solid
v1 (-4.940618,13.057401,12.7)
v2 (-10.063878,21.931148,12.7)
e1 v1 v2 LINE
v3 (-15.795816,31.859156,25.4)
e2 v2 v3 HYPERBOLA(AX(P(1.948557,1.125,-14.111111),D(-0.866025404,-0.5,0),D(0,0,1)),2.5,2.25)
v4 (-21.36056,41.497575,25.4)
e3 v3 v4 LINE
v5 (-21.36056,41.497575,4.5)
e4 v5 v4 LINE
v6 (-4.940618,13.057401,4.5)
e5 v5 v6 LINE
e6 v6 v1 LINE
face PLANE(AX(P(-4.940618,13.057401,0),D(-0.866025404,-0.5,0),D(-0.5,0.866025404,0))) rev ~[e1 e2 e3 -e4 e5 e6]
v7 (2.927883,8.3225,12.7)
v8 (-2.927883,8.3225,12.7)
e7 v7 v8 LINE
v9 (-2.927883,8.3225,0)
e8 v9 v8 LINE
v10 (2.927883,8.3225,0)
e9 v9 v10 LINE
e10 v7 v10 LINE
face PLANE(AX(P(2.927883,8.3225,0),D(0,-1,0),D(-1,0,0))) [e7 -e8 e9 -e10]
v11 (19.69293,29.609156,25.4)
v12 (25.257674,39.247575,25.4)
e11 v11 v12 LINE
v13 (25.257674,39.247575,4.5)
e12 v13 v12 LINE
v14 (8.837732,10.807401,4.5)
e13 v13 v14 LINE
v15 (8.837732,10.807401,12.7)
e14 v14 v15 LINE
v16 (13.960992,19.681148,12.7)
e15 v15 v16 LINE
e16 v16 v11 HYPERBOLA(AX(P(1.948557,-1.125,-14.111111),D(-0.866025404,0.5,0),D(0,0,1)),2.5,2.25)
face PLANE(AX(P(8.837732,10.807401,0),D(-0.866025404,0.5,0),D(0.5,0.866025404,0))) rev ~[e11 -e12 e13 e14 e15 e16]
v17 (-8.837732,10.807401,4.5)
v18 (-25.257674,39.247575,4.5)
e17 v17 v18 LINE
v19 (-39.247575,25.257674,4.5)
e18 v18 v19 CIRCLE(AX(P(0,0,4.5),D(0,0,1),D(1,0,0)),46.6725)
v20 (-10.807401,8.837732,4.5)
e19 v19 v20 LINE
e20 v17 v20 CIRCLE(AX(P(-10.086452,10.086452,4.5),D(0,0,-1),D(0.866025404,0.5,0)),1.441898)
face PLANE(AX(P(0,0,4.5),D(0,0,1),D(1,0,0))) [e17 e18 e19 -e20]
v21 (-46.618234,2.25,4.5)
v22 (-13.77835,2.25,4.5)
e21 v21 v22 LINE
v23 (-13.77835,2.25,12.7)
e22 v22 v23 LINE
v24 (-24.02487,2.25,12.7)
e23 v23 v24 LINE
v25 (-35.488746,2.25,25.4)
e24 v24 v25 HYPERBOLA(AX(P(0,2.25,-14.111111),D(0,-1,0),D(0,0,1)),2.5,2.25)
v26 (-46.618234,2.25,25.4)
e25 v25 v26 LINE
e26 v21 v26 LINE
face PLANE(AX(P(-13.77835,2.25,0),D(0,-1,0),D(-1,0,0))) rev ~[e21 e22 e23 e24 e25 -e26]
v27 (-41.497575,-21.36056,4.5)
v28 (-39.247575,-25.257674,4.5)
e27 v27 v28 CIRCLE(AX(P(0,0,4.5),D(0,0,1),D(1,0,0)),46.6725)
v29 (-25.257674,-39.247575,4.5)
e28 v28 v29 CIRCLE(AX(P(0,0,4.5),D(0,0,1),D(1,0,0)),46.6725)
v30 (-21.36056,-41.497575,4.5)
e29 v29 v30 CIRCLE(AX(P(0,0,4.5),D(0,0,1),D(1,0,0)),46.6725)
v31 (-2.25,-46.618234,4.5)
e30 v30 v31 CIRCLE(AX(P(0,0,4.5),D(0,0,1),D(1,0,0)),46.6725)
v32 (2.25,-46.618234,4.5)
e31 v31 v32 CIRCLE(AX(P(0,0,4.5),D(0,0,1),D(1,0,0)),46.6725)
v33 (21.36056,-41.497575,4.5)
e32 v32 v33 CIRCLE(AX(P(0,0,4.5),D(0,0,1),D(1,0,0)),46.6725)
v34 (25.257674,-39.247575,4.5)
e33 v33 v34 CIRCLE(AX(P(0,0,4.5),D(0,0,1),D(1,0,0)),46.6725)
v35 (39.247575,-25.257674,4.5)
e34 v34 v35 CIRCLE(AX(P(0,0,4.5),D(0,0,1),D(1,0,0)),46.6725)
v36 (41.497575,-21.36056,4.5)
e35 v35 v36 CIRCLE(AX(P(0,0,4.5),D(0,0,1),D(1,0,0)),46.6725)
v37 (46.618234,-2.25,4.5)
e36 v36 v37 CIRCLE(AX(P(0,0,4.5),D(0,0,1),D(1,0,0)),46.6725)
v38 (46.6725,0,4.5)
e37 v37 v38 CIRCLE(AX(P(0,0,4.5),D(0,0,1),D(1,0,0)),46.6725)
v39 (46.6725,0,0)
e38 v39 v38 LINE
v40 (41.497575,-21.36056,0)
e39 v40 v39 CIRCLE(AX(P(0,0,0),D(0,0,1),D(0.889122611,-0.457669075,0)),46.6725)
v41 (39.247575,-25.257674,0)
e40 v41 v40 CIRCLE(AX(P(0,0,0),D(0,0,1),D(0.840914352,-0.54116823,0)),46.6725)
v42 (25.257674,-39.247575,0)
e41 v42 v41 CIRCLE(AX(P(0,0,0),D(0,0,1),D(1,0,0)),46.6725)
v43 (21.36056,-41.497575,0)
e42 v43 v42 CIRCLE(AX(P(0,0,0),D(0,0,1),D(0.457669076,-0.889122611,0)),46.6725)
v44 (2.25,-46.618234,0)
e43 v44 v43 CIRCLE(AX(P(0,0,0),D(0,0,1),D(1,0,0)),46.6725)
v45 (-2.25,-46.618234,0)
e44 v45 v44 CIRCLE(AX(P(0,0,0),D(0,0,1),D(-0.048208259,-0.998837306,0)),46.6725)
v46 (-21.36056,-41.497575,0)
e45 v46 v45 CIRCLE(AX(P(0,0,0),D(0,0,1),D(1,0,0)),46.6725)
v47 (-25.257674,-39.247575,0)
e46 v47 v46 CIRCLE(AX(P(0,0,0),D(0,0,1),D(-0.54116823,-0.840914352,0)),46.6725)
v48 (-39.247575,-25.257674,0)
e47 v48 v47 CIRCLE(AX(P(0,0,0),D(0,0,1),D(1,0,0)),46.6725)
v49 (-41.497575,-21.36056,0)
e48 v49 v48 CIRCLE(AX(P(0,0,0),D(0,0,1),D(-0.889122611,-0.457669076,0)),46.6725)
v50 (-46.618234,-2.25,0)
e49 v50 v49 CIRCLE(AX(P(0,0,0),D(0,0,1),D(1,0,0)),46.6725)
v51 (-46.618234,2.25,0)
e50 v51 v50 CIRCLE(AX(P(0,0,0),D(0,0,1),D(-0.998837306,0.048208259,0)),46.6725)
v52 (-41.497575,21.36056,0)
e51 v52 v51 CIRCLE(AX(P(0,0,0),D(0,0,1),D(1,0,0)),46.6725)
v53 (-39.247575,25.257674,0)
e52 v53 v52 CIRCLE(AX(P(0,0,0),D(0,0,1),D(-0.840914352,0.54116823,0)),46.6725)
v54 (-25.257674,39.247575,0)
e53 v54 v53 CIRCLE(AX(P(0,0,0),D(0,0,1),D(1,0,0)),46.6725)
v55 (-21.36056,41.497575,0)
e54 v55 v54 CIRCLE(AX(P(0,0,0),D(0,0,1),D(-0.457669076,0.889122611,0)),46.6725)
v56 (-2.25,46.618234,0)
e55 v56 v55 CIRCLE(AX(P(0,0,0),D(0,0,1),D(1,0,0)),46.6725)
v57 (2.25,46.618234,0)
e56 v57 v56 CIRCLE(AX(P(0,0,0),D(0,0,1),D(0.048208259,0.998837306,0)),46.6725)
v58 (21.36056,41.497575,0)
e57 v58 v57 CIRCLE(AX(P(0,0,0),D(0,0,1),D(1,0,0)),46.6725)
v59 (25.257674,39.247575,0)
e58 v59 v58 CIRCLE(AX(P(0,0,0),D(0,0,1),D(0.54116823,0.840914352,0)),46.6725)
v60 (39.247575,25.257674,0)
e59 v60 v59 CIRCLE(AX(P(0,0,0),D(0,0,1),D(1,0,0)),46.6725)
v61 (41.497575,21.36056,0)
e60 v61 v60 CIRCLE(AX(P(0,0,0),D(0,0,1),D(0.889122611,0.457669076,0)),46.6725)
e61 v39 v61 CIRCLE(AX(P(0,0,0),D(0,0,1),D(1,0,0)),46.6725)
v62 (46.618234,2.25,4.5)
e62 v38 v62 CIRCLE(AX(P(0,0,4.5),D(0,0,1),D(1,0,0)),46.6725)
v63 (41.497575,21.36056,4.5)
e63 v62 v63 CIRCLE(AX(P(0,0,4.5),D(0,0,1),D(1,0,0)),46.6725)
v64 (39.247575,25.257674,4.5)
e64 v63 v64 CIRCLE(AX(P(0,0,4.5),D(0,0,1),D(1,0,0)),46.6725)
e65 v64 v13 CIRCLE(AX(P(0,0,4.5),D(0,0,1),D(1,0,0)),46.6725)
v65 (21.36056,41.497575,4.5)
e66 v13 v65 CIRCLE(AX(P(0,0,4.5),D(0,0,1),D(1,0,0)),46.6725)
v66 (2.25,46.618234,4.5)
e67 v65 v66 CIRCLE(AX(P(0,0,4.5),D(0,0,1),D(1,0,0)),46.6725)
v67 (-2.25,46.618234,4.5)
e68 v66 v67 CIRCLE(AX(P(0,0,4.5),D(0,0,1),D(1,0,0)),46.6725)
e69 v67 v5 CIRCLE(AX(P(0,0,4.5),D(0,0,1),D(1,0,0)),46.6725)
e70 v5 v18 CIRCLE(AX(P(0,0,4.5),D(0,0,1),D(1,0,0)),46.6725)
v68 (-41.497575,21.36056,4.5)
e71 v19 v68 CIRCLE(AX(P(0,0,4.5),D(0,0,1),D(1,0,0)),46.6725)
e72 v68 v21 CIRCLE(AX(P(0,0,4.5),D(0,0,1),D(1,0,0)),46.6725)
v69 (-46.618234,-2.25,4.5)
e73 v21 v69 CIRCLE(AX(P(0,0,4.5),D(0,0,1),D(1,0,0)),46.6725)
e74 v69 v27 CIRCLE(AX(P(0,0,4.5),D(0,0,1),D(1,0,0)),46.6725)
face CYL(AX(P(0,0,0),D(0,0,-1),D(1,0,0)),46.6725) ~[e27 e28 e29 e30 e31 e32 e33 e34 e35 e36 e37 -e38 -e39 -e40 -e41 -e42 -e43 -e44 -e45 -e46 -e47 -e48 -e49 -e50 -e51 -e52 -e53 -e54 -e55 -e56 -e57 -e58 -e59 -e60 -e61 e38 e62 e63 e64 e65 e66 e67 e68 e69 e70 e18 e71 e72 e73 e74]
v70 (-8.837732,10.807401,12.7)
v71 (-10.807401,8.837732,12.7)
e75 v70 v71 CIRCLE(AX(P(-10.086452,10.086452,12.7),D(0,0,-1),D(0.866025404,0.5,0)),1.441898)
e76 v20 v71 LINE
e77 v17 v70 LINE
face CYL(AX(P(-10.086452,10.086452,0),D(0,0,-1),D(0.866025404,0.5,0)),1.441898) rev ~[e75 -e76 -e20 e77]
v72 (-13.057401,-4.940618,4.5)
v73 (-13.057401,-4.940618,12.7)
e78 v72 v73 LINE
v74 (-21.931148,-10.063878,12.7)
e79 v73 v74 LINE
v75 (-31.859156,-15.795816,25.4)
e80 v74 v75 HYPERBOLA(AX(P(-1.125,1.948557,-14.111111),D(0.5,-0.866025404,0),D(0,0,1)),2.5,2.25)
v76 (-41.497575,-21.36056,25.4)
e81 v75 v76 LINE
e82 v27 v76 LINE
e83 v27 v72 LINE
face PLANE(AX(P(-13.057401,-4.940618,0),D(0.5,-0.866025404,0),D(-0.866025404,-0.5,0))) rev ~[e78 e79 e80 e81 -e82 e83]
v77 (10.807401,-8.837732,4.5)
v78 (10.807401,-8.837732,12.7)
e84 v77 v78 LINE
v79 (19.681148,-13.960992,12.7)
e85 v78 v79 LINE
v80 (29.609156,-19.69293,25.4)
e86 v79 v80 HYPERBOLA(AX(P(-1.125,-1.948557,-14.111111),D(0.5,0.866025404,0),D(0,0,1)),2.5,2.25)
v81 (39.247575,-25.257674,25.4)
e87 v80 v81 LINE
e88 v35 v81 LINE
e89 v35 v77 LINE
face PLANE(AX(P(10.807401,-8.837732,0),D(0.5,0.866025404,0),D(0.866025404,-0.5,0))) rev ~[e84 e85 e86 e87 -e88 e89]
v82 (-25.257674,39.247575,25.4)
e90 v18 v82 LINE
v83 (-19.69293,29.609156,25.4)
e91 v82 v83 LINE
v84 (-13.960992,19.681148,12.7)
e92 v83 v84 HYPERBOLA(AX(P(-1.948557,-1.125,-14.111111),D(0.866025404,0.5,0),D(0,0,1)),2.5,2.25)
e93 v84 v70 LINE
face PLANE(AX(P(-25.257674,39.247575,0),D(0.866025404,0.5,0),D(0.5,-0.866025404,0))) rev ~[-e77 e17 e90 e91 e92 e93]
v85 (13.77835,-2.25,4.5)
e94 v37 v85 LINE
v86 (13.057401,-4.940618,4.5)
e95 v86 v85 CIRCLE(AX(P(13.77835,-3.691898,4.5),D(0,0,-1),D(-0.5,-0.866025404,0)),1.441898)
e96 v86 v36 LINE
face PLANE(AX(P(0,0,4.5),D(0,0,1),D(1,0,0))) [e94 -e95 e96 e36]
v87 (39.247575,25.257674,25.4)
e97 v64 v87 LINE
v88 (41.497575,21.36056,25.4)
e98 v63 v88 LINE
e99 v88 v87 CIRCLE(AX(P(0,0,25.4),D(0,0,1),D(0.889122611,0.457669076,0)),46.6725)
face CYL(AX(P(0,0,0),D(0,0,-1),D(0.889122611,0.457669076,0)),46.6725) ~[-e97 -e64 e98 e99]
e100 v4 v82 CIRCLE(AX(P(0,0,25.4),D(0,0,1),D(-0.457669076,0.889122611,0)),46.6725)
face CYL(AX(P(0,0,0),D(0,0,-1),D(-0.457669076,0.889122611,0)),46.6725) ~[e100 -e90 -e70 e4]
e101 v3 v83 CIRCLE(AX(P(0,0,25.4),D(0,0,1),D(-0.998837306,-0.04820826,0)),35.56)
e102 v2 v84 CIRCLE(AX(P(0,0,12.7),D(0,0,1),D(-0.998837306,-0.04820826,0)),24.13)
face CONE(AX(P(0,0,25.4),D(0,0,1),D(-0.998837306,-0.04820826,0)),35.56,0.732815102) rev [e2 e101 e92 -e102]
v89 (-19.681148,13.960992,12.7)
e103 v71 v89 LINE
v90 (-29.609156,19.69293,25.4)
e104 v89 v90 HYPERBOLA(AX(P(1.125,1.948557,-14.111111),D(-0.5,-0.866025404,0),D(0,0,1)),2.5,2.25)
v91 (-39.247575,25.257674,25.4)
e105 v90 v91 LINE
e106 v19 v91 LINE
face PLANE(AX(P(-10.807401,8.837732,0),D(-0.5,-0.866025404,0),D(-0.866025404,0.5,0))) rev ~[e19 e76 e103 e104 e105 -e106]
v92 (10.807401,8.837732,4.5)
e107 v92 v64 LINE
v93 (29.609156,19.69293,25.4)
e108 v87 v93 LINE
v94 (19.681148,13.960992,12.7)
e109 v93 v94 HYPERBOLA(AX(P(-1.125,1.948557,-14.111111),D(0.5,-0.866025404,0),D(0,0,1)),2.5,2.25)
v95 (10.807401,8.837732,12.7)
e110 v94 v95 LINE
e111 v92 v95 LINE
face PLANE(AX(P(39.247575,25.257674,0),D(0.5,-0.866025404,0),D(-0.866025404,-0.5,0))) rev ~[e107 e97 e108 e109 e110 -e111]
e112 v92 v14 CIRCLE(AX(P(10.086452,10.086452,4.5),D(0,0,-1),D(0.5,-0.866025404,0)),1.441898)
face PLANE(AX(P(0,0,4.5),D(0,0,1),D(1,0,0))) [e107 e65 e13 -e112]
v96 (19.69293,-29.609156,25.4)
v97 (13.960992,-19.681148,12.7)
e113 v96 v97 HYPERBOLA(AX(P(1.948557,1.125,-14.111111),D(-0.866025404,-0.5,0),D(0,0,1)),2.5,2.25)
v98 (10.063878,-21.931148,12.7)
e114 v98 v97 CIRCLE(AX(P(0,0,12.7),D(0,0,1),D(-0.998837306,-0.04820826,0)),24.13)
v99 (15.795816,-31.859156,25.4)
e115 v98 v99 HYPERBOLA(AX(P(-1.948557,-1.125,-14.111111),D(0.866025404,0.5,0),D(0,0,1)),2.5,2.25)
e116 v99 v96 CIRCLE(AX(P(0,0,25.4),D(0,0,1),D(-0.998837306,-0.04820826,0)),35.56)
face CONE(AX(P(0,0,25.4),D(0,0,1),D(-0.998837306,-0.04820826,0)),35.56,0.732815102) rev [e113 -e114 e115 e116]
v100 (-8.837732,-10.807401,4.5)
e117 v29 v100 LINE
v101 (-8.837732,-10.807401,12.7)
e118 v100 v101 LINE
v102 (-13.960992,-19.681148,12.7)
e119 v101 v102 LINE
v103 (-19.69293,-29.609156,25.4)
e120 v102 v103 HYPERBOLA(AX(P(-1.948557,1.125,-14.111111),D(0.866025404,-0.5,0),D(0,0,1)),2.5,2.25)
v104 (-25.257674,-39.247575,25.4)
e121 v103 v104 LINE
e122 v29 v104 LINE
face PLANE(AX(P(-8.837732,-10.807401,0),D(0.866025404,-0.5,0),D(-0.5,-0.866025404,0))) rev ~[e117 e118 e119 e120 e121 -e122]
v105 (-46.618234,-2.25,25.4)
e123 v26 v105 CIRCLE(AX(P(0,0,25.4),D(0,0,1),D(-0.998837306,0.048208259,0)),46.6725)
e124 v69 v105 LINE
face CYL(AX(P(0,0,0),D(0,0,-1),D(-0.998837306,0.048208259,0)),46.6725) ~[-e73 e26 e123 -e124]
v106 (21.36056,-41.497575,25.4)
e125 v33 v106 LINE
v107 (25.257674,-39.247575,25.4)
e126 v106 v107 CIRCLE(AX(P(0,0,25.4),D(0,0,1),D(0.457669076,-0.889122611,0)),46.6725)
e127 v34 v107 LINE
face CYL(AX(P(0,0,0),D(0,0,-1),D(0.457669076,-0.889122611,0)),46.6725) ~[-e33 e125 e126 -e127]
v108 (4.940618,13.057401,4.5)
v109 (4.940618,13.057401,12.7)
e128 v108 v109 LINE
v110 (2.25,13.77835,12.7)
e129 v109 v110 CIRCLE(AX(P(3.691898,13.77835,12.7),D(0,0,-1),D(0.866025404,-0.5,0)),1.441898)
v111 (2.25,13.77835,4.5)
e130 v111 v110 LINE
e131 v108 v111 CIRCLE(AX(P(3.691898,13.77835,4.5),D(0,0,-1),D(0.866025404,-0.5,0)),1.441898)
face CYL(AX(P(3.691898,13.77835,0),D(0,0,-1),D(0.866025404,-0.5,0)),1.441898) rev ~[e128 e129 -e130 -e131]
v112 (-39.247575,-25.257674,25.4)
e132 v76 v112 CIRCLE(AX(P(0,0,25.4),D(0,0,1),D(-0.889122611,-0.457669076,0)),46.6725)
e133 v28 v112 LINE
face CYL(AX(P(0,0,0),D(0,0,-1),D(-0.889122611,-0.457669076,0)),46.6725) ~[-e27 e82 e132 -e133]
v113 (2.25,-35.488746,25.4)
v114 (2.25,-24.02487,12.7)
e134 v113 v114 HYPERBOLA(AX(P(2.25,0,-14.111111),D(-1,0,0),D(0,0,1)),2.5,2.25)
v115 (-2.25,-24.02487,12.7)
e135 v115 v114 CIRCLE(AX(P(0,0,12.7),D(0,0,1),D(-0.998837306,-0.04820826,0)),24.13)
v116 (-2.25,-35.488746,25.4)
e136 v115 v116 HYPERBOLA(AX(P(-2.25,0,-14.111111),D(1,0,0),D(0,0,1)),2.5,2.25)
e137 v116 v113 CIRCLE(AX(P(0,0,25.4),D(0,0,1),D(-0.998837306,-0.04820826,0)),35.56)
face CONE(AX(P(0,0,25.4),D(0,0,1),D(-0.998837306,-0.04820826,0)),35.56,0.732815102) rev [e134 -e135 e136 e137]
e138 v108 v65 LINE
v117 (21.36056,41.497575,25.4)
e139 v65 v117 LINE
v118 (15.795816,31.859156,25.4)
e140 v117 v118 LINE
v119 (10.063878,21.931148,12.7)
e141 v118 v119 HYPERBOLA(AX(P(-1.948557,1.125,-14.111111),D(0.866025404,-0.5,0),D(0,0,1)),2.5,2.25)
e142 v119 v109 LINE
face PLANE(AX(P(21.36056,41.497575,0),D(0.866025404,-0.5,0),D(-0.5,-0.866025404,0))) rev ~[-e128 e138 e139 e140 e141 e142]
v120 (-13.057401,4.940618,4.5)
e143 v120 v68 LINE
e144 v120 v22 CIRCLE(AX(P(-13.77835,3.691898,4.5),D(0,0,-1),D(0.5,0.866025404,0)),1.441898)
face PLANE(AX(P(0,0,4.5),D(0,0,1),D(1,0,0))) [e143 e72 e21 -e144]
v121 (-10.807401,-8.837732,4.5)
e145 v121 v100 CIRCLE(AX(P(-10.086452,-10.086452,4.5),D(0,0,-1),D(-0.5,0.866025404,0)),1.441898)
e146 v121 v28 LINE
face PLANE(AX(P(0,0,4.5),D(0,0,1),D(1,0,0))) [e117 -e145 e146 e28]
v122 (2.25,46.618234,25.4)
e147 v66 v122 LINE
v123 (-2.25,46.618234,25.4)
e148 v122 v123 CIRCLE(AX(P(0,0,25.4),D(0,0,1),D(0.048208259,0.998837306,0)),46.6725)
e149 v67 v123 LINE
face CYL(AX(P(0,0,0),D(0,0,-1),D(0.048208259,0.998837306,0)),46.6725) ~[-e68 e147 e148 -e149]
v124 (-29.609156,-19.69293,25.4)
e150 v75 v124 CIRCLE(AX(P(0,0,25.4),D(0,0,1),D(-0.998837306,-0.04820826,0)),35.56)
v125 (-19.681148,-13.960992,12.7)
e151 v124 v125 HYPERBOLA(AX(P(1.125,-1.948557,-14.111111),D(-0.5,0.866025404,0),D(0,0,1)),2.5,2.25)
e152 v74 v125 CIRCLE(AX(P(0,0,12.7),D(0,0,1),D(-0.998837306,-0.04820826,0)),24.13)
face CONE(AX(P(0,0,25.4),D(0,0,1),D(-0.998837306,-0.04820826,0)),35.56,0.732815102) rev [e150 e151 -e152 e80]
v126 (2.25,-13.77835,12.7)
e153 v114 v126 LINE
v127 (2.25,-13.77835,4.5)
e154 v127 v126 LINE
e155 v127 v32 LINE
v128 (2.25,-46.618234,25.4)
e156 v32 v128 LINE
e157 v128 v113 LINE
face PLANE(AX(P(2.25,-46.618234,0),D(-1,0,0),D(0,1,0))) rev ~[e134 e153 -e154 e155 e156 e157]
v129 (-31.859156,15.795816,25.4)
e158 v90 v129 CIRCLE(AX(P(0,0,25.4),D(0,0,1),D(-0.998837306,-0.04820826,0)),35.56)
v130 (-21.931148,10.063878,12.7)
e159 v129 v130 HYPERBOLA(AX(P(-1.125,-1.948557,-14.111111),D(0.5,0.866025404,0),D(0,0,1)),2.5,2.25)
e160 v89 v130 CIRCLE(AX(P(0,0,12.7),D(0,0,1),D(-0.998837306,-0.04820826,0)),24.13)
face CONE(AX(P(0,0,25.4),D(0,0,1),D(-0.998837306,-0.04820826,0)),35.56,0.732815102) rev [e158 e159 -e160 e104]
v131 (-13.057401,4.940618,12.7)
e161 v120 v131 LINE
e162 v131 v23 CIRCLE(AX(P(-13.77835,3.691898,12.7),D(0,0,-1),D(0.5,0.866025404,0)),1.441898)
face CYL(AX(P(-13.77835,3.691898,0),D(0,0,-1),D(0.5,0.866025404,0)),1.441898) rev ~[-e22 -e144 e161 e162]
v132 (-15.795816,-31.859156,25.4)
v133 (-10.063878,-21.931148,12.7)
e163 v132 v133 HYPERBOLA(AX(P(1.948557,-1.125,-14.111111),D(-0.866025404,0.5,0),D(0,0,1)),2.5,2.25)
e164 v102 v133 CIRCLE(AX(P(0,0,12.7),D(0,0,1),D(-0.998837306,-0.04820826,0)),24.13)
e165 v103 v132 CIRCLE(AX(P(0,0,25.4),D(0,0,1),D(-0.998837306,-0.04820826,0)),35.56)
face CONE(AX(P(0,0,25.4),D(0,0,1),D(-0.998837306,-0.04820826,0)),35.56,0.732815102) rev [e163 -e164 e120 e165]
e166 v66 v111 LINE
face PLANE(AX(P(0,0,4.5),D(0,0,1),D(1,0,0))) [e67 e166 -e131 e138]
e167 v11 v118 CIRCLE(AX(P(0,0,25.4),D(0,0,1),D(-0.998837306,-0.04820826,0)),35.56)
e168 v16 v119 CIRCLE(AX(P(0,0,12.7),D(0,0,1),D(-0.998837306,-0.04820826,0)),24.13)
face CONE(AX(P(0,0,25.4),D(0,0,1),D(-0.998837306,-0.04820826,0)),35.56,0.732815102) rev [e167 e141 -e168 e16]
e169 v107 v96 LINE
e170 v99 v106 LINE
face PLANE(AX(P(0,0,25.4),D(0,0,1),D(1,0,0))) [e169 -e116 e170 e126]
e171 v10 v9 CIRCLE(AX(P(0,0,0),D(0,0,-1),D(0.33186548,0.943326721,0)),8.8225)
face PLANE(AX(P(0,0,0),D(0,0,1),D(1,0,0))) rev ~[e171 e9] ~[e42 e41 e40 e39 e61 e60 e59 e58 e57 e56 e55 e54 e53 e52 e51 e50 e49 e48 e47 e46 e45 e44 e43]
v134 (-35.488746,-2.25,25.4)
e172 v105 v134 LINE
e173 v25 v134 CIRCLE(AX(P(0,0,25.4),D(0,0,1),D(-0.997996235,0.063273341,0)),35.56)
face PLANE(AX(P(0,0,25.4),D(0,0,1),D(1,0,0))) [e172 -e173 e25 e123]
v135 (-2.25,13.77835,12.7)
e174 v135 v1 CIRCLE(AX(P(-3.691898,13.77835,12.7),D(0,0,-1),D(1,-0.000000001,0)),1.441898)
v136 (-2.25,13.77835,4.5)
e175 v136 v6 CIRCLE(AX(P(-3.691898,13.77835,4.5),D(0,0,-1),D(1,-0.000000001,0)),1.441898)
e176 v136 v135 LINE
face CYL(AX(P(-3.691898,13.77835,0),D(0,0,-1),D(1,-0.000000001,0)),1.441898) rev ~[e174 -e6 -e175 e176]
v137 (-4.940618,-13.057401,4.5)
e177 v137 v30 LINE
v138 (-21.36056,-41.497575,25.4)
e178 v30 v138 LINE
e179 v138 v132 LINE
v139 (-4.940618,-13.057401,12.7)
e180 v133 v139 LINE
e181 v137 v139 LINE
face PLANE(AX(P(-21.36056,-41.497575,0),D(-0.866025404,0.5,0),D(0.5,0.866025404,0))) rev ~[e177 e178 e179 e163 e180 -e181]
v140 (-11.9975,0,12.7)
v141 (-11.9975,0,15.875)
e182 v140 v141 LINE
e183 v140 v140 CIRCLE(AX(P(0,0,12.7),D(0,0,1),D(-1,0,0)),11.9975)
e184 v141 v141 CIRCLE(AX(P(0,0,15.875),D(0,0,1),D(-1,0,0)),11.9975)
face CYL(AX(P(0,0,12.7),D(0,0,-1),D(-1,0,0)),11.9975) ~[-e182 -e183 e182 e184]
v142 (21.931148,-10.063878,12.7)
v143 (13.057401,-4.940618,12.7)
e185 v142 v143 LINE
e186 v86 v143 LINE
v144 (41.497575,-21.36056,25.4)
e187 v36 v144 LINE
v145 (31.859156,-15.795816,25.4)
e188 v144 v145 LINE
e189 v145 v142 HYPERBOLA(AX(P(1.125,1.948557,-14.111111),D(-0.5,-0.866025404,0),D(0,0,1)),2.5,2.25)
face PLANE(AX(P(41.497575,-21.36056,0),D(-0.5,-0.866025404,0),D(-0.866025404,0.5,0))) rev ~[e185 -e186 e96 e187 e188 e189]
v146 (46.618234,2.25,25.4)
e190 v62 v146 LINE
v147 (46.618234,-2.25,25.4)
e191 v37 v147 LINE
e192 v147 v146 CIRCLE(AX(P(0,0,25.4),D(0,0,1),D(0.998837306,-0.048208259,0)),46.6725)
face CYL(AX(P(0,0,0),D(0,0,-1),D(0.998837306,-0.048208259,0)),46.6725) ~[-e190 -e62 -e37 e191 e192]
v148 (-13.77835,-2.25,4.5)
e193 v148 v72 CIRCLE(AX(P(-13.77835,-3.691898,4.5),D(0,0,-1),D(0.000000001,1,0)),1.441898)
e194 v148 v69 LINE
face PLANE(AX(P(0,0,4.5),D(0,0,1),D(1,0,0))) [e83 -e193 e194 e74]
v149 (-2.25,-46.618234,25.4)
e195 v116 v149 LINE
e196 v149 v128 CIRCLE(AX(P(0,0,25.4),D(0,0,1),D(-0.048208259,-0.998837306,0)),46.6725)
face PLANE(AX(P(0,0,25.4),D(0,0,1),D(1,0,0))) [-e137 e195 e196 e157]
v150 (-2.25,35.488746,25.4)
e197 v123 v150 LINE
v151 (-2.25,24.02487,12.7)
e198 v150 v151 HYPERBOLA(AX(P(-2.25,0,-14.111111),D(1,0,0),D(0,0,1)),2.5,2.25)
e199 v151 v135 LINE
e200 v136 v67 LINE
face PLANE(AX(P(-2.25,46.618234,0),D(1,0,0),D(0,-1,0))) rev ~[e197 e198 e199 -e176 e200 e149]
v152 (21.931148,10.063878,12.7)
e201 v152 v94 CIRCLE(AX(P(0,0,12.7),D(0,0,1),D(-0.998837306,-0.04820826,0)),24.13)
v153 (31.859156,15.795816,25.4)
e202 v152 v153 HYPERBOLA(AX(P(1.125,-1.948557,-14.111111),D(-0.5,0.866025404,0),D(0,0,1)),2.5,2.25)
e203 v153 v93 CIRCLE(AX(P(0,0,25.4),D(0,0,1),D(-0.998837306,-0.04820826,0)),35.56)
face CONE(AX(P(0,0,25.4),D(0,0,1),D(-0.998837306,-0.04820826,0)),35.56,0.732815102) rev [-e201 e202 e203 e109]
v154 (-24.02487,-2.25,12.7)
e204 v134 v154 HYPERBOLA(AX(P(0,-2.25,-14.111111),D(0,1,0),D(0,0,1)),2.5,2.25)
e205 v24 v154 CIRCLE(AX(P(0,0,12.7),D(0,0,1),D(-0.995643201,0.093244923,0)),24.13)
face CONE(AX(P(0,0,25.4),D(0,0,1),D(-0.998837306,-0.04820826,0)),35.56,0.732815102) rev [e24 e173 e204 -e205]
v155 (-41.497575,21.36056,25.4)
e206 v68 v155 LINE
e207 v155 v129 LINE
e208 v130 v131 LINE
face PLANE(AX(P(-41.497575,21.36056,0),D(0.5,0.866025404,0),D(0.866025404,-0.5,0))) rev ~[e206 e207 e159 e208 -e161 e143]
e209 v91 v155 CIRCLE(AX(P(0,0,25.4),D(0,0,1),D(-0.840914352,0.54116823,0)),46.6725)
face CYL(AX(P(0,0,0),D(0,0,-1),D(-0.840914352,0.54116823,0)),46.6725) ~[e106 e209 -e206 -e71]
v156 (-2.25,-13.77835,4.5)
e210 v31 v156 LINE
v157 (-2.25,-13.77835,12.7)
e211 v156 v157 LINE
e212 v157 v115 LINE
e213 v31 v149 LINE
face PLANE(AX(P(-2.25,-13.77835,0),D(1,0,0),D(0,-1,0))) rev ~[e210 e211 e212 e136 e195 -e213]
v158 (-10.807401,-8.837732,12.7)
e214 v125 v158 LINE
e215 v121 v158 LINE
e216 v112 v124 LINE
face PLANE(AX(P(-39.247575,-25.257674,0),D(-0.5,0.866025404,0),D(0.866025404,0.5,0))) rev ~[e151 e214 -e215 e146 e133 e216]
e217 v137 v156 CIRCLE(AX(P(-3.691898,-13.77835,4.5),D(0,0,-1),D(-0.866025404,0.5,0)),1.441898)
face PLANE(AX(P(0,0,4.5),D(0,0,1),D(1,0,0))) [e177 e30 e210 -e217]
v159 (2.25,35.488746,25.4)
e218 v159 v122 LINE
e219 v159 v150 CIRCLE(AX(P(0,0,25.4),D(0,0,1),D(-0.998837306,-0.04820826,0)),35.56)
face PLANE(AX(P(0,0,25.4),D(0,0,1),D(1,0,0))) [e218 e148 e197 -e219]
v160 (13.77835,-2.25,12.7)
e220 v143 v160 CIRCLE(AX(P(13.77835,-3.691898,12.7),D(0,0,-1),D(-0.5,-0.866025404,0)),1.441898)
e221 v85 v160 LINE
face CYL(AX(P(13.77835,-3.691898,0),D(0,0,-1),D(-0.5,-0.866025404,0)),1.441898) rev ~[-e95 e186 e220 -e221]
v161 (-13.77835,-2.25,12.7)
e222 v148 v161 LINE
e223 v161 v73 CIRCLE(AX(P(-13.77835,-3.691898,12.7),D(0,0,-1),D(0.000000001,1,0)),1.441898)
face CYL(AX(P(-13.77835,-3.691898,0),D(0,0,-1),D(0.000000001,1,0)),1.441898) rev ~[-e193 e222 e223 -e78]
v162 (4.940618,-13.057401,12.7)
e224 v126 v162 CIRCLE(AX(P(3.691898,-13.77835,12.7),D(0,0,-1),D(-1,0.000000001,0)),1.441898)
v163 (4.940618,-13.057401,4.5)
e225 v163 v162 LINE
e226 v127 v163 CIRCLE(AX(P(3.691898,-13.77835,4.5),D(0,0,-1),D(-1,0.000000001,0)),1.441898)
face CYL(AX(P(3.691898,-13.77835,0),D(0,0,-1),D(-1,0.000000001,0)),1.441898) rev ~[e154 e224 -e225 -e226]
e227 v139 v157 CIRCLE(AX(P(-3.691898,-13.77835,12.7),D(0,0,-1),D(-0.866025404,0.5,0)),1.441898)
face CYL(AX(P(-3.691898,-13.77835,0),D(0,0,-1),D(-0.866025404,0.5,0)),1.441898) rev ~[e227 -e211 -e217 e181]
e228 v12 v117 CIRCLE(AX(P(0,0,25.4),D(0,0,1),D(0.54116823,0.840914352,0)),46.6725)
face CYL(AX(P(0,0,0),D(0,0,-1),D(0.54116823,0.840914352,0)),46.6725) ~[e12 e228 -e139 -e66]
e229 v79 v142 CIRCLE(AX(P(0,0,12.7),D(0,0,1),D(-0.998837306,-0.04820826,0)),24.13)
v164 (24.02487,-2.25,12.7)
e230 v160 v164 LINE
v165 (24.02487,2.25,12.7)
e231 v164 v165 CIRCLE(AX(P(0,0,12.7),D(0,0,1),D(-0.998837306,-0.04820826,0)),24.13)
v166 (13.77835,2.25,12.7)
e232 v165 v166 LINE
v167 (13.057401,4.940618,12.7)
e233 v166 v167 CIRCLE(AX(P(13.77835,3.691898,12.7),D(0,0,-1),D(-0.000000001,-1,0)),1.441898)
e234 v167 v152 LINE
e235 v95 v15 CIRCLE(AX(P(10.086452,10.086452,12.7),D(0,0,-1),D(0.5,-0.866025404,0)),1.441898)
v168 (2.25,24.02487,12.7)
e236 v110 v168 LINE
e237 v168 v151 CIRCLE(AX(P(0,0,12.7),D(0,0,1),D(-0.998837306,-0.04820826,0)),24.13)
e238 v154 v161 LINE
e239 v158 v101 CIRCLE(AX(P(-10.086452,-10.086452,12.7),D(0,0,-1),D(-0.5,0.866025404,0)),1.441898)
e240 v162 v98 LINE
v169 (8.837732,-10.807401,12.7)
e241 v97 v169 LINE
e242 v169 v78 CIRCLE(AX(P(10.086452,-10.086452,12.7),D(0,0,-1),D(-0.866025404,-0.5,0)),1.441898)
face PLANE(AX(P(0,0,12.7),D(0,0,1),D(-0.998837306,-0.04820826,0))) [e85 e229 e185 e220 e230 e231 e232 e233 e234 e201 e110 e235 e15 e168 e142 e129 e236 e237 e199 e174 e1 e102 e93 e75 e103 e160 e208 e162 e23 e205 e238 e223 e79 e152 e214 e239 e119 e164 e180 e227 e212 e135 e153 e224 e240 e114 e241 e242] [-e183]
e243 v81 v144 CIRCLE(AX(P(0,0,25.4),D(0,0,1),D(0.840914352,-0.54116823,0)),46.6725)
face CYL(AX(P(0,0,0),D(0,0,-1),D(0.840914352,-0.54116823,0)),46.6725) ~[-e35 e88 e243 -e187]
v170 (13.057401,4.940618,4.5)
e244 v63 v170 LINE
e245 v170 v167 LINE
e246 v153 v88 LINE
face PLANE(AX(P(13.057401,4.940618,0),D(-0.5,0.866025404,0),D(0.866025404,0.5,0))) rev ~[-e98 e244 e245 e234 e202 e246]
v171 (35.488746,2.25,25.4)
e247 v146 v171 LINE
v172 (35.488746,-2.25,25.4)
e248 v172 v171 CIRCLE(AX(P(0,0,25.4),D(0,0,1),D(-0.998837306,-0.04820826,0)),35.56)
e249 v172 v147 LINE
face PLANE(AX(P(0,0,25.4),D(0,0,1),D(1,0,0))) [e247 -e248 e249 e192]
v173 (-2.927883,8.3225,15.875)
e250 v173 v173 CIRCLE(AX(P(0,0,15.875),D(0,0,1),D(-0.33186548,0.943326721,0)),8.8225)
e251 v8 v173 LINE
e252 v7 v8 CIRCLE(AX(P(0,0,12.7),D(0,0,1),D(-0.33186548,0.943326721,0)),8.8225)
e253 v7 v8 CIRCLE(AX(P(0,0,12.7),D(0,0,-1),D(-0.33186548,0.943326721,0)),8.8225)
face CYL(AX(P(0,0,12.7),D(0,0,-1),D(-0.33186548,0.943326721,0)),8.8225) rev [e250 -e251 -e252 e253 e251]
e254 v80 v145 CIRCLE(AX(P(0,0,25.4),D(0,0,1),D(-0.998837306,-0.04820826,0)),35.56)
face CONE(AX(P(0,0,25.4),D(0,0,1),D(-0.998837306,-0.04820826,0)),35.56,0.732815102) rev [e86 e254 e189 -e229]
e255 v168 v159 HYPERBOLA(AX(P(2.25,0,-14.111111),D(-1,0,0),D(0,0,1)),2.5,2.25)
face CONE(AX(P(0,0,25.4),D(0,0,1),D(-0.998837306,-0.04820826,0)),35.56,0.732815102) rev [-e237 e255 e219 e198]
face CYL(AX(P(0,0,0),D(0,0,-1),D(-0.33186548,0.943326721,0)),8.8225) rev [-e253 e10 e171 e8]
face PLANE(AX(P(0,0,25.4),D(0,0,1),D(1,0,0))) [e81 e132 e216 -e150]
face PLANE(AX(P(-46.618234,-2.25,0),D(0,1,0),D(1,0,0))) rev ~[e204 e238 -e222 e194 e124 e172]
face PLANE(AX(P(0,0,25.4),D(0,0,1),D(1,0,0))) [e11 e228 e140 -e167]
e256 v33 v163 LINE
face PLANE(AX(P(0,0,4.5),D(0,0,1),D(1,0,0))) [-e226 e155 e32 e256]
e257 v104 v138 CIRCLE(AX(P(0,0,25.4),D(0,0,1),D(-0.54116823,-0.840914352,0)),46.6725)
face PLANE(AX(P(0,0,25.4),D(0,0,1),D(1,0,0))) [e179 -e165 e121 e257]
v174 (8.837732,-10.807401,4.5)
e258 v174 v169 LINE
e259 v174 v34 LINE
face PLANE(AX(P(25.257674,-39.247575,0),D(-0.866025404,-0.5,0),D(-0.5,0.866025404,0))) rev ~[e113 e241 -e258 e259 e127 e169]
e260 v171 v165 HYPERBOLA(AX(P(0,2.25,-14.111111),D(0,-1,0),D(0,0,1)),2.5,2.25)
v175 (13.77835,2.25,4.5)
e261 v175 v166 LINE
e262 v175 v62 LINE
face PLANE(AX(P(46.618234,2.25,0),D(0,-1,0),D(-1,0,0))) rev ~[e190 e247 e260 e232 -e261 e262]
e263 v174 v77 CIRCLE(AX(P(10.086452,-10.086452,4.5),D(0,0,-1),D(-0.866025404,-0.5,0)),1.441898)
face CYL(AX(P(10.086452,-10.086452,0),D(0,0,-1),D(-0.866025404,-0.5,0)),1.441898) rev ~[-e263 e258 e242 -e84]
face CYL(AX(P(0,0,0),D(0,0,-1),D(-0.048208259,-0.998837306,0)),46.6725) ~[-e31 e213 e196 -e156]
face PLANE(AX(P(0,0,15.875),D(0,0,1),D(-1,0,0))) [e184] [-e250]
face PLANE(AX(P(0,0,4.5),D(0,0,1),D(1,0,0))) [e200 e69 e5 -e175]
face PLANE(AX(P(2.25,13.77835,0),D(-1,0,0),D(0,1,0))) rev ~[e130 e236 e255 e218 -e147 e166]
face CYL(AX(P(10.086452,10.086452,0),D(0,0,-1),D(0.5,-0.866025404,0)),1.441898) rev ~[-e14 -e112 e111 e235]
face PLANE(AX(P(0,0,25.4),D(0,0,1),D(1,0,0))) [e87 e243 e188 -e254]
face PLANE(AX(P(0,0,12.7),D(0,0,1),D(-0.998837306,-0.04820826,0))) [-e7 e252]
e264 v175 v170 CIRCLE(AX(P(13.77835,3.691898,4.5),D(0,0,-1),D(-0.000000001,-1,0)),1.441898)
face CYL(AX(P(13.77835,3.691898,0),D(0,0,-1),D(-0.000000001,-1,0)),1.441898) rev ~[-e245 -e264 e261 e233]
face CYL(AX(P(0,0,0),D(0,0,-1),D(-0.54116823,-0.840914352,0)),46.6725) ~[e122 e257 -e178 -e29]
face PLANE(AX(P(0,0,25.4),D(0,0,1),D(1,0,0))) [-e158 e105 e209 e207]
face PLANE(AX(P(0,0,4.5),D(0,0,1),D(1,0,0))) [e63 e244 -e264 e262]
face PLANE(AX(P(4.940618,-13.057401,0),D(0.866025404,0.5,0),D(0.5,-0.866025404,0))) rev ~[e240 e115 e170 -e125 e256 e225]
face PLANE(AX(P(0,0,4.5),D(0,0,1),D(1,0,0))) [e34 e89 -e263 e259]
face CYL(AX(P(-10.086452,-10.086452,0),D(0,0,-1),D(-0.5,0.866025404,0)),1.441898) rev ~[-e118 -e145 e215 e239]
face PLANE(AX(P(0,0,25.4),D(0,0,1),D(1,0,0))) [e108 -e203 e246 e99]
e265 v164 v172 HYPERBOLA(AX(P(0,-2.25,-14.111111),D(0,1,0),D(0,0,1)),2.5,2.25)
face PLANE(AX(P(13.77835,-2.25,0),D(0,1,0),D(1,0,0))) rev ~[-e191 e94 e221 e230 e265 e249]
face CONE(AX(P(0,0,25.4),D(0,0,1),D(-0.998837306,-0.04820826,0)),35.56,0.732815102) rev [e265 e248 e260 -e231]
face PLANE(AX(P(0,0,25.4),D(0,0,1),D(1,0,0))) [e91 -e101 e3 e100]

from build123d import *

# Parameters (mm, degrees)
SKETCH1_R           = 46.6725
BOSS_EXTRUDE1_DEPTH = 4.5
BOSS_EXTRUDE2_START = -4.5
BOSS_EXTRUDE2_DEPTH = 25.4
SKETCH4_R           = 11.9975
SKETCH4_R_2         = 8.8225
BOSS_EXTRUDE3_DEPTH = 3.175


with BuildPart() as part:
    # Sketch1 → Boss-Extrude1 (new body)
    with BuildSketch(Plane.XY):
        Circle(SKETCH1_R)
        with BuildLine():
            Line((-2.927883194, 8.3225), (2.927883194, 8.3225))
            ThreePointArc((2.927883194, 8.3225), (0, -8.8225), (-2.927883194, 8.3225))
        make_face(mode=Mode.SUBTRACT)
    extrude(amount=BOSS_EXTRUDE1_DEPTH)

    # Sketch2 → Boss-Extrude2 (add)
    with BuildSketch(Plane.XY.offset(4.5).offset(BOSS_EXTRUDE2_START)):
        with BuildLine():
            Line((-2.25, 46.618234161), (-2.25, 13.778350254))
            ThreePointArc((-2.25, 13.778350254), (-3.318707206, 12.385583908), (-4.940617969, 13.057401343))
            Line((-4.940617969, 13.057401343), (-21.360559922, 41.497575063))
            ThreePointArc((-21.360559922, 41.497575063), (-23.33625, 40.419570658), (-25.257674239, 39.247575063))
            Line((-25.257674239, 39.247575063), (-8.837732286, 10.807401343))
            ThreePointArc((-8.837732286, 10.807401343), (-9.066876702, 9.066876702), (-10.807401343, 8.837732286))
            Line((-10.807401343, 8.837732286), (-39.247575063, 25.257674239))
            ThreePointArc((-39.247575063, 25.257674239), (-40.419570658, 23.33625), (-41.497575063, 21.360559922))
            Line((-41.497575063, 21.360559922), (-13.057401343, 4.940617969))
            ThreePointArc((-13.057401343, 4.940617969), (-12.385583908, 3.318707206), (-13.778350254, 2.25))
            Line((-13.778350254, 2.25), (-46.618234161, 2.25))
            ThreePointArc((-46.618234161, 2.25), (-46.6725, 0), (-46.618234161, -2.25))
            Line((-46.618234161, -2.25), (-13.778350254, -2.25))
            ThreePointArc((-13.778350254, -2.25), (-12.385583908, -3.318707206), (-13.057401343, -4.940617969))
            Line((-13.057401343, -4.940617969), (-41.497575063, -21.360559922))
            ThreePointArc((-41.497575063, -21.360559922), (-40.419570658, -23.33625), (-39.247575063, -25.257674239))
            Line((-39.247575063, -25.257674239), (-10.807401343, -8.837732286))
            ThreePointArc((-10.807401343, -8.837732286), (-9.066876702, -9.066876702), (-8.837732286, -10.807401343))
            Line((-8.837732286, -10.807401343), (-25.257674239, -39.247575063))
            ThreePointArc((-25.257674239, -39.247575063), (-23.33625, -40.419570658), (-21.360559922, -41.497575063))
            Line((-21.360559922, -41.497575063), (-4.940617969, -13.057401343))
            ThreePointArc((-4.940617969, -13.057401343), (-3.318707206, -12.385583908), (-2.25, -13.778350254))
            Line((-2.25, -13.778350254), (-2.25, -46.618234161))
            ThreePointArc((-2.25, -46.618234161), (0, -46.6725), (2.25, -46.618234161))
            Line((2.25, -46.618234161), (2.25, -13.778350254))
            ThreePointArc((2.25, -13.778350254), (3.318707206, -12.385583908), (4.940617969, -13.057401343))
            Line((4.940617969, -13.057401343), (21.360559922, -41.497575063))
            ThreePointArc((21.360559922, -41.497575063), (23.33625, -40.419570658), (25.257674239, -39.247575063))
            Line((25.257674239, -39.247575063), (8.837732286, -10.807401343))
            ThreePointArc((8.837732286, -10.807401343), (9.066876702, -9.066876702), (10.807401343, -8.837732286))
            Line((10.807401343, -8.837732286), (39.247575063, -25.257674239))
            ThreePointArc((39.247575063, -25.257674239), (40.419570658, -23.33625), (41.497575063, -21.360559922))
            Line((41.497575063, -21.360559922), (13.057401343, -4.940617969))
            ThreePointArc((13.057401343, -4.940617969), (12.385583908, -3.318707206), (13.778350254, -2.25))
            Line((13.778350254, -2.25), (46.618234161, -2.25))
            ThreePointArc((46.618234161, -2.25), (46.6725, 0), (46.618234161, 2.25))
            Line((46.618234161, 2.25), (13.778350254, 2.25))
            ThreePointArc((13.778350254, 2.25), (12.385583908, 3.318707206), (13.057401343, 4.940617969))
            Line((13.057401343, 4.940617969), (41.497575063, 21.360559922))
            ThreePointArc((41.497575063, 21.360559922), (40.419570658, 23.33625), (39.247575063, 25.257674239))
            Line((39.247575063, 25.257674239), (10.807401343, 8.837732286))
            ThreePointArc((10.807401343, 8.837732286), (9.066876702, 9.066876702), (8.837732286, 10.807401343))
            Line((8.837732286, 10.807401343), (25.257674239, 39.247575063))
            ThreePointArc((25.257674239, 39.247575063), (23.33625, 40.419570658), (21.360559922, 41.497575063))
            Line((21.360559922, 41.497575063), (4.940617969, 13.057401343))
            ThreePointArc((4.940617969, 13.057401343), (3.318707206, 12.385583908), (2.25, 13.778350254))
            Line((2.25, 13.778350254), (2.25, 46.618234161))
            ThreePointArc((2.25, 46.618234161), (0, 46.6725), (-2.25, 46.618234161))
        make_face()
        with BuildLine():
            Line((2.927883194, 8.3225), (-2.927883194, 8.3225))
            ThreePointArc((-2.927883194, 8.3225), (0, -8.8225), (2.927883194, 8.3225))
        make_face(mode=Mode.SUBTRACT)
    extrude(amount=BOSS_EXTRUDE2_DEPTH)

    # Sketch3 → Cut-Revolve1 (revolve, cut)
    with BuildSketch(Plane(origin=(0, 0, 0), x_dir=(1, 0, 0), z_dir=(0, 1, 0)), mode=Mode.PRIVATE) as cut_revolve1_sk:
        Polygon((-24.13, -12.7), (-6.35, -12.7), (-6.35, -25.4), (-35.56, -25.4), align=None)
    revolve(cut_revolve1_sk.sketch.rotate(Axis((0, 0, 0), (0, 0, 1)), 2.76320082), axis=Axis((0, 0, 0), (0, 0, 1)), mode=Mode.SUBTRACT)

    # Sketch4 → Boss-Extrude3 (add)
    with BuildSketch(Plane.XY.offset(12.7)):
        with Locations(Location((0, 0, 0), (0, 0, 180))):
            Circle(SKETCH4_R)
        with Locations(Location((0, 0, 0), (0, 0, 109.382041685))):
            Circle(SKETCH4_R_2, mode=Mode.SUBTRACT)
    extrude(amount=BOSS_EXTRUDE3_DEPTH)


solid = part.part
